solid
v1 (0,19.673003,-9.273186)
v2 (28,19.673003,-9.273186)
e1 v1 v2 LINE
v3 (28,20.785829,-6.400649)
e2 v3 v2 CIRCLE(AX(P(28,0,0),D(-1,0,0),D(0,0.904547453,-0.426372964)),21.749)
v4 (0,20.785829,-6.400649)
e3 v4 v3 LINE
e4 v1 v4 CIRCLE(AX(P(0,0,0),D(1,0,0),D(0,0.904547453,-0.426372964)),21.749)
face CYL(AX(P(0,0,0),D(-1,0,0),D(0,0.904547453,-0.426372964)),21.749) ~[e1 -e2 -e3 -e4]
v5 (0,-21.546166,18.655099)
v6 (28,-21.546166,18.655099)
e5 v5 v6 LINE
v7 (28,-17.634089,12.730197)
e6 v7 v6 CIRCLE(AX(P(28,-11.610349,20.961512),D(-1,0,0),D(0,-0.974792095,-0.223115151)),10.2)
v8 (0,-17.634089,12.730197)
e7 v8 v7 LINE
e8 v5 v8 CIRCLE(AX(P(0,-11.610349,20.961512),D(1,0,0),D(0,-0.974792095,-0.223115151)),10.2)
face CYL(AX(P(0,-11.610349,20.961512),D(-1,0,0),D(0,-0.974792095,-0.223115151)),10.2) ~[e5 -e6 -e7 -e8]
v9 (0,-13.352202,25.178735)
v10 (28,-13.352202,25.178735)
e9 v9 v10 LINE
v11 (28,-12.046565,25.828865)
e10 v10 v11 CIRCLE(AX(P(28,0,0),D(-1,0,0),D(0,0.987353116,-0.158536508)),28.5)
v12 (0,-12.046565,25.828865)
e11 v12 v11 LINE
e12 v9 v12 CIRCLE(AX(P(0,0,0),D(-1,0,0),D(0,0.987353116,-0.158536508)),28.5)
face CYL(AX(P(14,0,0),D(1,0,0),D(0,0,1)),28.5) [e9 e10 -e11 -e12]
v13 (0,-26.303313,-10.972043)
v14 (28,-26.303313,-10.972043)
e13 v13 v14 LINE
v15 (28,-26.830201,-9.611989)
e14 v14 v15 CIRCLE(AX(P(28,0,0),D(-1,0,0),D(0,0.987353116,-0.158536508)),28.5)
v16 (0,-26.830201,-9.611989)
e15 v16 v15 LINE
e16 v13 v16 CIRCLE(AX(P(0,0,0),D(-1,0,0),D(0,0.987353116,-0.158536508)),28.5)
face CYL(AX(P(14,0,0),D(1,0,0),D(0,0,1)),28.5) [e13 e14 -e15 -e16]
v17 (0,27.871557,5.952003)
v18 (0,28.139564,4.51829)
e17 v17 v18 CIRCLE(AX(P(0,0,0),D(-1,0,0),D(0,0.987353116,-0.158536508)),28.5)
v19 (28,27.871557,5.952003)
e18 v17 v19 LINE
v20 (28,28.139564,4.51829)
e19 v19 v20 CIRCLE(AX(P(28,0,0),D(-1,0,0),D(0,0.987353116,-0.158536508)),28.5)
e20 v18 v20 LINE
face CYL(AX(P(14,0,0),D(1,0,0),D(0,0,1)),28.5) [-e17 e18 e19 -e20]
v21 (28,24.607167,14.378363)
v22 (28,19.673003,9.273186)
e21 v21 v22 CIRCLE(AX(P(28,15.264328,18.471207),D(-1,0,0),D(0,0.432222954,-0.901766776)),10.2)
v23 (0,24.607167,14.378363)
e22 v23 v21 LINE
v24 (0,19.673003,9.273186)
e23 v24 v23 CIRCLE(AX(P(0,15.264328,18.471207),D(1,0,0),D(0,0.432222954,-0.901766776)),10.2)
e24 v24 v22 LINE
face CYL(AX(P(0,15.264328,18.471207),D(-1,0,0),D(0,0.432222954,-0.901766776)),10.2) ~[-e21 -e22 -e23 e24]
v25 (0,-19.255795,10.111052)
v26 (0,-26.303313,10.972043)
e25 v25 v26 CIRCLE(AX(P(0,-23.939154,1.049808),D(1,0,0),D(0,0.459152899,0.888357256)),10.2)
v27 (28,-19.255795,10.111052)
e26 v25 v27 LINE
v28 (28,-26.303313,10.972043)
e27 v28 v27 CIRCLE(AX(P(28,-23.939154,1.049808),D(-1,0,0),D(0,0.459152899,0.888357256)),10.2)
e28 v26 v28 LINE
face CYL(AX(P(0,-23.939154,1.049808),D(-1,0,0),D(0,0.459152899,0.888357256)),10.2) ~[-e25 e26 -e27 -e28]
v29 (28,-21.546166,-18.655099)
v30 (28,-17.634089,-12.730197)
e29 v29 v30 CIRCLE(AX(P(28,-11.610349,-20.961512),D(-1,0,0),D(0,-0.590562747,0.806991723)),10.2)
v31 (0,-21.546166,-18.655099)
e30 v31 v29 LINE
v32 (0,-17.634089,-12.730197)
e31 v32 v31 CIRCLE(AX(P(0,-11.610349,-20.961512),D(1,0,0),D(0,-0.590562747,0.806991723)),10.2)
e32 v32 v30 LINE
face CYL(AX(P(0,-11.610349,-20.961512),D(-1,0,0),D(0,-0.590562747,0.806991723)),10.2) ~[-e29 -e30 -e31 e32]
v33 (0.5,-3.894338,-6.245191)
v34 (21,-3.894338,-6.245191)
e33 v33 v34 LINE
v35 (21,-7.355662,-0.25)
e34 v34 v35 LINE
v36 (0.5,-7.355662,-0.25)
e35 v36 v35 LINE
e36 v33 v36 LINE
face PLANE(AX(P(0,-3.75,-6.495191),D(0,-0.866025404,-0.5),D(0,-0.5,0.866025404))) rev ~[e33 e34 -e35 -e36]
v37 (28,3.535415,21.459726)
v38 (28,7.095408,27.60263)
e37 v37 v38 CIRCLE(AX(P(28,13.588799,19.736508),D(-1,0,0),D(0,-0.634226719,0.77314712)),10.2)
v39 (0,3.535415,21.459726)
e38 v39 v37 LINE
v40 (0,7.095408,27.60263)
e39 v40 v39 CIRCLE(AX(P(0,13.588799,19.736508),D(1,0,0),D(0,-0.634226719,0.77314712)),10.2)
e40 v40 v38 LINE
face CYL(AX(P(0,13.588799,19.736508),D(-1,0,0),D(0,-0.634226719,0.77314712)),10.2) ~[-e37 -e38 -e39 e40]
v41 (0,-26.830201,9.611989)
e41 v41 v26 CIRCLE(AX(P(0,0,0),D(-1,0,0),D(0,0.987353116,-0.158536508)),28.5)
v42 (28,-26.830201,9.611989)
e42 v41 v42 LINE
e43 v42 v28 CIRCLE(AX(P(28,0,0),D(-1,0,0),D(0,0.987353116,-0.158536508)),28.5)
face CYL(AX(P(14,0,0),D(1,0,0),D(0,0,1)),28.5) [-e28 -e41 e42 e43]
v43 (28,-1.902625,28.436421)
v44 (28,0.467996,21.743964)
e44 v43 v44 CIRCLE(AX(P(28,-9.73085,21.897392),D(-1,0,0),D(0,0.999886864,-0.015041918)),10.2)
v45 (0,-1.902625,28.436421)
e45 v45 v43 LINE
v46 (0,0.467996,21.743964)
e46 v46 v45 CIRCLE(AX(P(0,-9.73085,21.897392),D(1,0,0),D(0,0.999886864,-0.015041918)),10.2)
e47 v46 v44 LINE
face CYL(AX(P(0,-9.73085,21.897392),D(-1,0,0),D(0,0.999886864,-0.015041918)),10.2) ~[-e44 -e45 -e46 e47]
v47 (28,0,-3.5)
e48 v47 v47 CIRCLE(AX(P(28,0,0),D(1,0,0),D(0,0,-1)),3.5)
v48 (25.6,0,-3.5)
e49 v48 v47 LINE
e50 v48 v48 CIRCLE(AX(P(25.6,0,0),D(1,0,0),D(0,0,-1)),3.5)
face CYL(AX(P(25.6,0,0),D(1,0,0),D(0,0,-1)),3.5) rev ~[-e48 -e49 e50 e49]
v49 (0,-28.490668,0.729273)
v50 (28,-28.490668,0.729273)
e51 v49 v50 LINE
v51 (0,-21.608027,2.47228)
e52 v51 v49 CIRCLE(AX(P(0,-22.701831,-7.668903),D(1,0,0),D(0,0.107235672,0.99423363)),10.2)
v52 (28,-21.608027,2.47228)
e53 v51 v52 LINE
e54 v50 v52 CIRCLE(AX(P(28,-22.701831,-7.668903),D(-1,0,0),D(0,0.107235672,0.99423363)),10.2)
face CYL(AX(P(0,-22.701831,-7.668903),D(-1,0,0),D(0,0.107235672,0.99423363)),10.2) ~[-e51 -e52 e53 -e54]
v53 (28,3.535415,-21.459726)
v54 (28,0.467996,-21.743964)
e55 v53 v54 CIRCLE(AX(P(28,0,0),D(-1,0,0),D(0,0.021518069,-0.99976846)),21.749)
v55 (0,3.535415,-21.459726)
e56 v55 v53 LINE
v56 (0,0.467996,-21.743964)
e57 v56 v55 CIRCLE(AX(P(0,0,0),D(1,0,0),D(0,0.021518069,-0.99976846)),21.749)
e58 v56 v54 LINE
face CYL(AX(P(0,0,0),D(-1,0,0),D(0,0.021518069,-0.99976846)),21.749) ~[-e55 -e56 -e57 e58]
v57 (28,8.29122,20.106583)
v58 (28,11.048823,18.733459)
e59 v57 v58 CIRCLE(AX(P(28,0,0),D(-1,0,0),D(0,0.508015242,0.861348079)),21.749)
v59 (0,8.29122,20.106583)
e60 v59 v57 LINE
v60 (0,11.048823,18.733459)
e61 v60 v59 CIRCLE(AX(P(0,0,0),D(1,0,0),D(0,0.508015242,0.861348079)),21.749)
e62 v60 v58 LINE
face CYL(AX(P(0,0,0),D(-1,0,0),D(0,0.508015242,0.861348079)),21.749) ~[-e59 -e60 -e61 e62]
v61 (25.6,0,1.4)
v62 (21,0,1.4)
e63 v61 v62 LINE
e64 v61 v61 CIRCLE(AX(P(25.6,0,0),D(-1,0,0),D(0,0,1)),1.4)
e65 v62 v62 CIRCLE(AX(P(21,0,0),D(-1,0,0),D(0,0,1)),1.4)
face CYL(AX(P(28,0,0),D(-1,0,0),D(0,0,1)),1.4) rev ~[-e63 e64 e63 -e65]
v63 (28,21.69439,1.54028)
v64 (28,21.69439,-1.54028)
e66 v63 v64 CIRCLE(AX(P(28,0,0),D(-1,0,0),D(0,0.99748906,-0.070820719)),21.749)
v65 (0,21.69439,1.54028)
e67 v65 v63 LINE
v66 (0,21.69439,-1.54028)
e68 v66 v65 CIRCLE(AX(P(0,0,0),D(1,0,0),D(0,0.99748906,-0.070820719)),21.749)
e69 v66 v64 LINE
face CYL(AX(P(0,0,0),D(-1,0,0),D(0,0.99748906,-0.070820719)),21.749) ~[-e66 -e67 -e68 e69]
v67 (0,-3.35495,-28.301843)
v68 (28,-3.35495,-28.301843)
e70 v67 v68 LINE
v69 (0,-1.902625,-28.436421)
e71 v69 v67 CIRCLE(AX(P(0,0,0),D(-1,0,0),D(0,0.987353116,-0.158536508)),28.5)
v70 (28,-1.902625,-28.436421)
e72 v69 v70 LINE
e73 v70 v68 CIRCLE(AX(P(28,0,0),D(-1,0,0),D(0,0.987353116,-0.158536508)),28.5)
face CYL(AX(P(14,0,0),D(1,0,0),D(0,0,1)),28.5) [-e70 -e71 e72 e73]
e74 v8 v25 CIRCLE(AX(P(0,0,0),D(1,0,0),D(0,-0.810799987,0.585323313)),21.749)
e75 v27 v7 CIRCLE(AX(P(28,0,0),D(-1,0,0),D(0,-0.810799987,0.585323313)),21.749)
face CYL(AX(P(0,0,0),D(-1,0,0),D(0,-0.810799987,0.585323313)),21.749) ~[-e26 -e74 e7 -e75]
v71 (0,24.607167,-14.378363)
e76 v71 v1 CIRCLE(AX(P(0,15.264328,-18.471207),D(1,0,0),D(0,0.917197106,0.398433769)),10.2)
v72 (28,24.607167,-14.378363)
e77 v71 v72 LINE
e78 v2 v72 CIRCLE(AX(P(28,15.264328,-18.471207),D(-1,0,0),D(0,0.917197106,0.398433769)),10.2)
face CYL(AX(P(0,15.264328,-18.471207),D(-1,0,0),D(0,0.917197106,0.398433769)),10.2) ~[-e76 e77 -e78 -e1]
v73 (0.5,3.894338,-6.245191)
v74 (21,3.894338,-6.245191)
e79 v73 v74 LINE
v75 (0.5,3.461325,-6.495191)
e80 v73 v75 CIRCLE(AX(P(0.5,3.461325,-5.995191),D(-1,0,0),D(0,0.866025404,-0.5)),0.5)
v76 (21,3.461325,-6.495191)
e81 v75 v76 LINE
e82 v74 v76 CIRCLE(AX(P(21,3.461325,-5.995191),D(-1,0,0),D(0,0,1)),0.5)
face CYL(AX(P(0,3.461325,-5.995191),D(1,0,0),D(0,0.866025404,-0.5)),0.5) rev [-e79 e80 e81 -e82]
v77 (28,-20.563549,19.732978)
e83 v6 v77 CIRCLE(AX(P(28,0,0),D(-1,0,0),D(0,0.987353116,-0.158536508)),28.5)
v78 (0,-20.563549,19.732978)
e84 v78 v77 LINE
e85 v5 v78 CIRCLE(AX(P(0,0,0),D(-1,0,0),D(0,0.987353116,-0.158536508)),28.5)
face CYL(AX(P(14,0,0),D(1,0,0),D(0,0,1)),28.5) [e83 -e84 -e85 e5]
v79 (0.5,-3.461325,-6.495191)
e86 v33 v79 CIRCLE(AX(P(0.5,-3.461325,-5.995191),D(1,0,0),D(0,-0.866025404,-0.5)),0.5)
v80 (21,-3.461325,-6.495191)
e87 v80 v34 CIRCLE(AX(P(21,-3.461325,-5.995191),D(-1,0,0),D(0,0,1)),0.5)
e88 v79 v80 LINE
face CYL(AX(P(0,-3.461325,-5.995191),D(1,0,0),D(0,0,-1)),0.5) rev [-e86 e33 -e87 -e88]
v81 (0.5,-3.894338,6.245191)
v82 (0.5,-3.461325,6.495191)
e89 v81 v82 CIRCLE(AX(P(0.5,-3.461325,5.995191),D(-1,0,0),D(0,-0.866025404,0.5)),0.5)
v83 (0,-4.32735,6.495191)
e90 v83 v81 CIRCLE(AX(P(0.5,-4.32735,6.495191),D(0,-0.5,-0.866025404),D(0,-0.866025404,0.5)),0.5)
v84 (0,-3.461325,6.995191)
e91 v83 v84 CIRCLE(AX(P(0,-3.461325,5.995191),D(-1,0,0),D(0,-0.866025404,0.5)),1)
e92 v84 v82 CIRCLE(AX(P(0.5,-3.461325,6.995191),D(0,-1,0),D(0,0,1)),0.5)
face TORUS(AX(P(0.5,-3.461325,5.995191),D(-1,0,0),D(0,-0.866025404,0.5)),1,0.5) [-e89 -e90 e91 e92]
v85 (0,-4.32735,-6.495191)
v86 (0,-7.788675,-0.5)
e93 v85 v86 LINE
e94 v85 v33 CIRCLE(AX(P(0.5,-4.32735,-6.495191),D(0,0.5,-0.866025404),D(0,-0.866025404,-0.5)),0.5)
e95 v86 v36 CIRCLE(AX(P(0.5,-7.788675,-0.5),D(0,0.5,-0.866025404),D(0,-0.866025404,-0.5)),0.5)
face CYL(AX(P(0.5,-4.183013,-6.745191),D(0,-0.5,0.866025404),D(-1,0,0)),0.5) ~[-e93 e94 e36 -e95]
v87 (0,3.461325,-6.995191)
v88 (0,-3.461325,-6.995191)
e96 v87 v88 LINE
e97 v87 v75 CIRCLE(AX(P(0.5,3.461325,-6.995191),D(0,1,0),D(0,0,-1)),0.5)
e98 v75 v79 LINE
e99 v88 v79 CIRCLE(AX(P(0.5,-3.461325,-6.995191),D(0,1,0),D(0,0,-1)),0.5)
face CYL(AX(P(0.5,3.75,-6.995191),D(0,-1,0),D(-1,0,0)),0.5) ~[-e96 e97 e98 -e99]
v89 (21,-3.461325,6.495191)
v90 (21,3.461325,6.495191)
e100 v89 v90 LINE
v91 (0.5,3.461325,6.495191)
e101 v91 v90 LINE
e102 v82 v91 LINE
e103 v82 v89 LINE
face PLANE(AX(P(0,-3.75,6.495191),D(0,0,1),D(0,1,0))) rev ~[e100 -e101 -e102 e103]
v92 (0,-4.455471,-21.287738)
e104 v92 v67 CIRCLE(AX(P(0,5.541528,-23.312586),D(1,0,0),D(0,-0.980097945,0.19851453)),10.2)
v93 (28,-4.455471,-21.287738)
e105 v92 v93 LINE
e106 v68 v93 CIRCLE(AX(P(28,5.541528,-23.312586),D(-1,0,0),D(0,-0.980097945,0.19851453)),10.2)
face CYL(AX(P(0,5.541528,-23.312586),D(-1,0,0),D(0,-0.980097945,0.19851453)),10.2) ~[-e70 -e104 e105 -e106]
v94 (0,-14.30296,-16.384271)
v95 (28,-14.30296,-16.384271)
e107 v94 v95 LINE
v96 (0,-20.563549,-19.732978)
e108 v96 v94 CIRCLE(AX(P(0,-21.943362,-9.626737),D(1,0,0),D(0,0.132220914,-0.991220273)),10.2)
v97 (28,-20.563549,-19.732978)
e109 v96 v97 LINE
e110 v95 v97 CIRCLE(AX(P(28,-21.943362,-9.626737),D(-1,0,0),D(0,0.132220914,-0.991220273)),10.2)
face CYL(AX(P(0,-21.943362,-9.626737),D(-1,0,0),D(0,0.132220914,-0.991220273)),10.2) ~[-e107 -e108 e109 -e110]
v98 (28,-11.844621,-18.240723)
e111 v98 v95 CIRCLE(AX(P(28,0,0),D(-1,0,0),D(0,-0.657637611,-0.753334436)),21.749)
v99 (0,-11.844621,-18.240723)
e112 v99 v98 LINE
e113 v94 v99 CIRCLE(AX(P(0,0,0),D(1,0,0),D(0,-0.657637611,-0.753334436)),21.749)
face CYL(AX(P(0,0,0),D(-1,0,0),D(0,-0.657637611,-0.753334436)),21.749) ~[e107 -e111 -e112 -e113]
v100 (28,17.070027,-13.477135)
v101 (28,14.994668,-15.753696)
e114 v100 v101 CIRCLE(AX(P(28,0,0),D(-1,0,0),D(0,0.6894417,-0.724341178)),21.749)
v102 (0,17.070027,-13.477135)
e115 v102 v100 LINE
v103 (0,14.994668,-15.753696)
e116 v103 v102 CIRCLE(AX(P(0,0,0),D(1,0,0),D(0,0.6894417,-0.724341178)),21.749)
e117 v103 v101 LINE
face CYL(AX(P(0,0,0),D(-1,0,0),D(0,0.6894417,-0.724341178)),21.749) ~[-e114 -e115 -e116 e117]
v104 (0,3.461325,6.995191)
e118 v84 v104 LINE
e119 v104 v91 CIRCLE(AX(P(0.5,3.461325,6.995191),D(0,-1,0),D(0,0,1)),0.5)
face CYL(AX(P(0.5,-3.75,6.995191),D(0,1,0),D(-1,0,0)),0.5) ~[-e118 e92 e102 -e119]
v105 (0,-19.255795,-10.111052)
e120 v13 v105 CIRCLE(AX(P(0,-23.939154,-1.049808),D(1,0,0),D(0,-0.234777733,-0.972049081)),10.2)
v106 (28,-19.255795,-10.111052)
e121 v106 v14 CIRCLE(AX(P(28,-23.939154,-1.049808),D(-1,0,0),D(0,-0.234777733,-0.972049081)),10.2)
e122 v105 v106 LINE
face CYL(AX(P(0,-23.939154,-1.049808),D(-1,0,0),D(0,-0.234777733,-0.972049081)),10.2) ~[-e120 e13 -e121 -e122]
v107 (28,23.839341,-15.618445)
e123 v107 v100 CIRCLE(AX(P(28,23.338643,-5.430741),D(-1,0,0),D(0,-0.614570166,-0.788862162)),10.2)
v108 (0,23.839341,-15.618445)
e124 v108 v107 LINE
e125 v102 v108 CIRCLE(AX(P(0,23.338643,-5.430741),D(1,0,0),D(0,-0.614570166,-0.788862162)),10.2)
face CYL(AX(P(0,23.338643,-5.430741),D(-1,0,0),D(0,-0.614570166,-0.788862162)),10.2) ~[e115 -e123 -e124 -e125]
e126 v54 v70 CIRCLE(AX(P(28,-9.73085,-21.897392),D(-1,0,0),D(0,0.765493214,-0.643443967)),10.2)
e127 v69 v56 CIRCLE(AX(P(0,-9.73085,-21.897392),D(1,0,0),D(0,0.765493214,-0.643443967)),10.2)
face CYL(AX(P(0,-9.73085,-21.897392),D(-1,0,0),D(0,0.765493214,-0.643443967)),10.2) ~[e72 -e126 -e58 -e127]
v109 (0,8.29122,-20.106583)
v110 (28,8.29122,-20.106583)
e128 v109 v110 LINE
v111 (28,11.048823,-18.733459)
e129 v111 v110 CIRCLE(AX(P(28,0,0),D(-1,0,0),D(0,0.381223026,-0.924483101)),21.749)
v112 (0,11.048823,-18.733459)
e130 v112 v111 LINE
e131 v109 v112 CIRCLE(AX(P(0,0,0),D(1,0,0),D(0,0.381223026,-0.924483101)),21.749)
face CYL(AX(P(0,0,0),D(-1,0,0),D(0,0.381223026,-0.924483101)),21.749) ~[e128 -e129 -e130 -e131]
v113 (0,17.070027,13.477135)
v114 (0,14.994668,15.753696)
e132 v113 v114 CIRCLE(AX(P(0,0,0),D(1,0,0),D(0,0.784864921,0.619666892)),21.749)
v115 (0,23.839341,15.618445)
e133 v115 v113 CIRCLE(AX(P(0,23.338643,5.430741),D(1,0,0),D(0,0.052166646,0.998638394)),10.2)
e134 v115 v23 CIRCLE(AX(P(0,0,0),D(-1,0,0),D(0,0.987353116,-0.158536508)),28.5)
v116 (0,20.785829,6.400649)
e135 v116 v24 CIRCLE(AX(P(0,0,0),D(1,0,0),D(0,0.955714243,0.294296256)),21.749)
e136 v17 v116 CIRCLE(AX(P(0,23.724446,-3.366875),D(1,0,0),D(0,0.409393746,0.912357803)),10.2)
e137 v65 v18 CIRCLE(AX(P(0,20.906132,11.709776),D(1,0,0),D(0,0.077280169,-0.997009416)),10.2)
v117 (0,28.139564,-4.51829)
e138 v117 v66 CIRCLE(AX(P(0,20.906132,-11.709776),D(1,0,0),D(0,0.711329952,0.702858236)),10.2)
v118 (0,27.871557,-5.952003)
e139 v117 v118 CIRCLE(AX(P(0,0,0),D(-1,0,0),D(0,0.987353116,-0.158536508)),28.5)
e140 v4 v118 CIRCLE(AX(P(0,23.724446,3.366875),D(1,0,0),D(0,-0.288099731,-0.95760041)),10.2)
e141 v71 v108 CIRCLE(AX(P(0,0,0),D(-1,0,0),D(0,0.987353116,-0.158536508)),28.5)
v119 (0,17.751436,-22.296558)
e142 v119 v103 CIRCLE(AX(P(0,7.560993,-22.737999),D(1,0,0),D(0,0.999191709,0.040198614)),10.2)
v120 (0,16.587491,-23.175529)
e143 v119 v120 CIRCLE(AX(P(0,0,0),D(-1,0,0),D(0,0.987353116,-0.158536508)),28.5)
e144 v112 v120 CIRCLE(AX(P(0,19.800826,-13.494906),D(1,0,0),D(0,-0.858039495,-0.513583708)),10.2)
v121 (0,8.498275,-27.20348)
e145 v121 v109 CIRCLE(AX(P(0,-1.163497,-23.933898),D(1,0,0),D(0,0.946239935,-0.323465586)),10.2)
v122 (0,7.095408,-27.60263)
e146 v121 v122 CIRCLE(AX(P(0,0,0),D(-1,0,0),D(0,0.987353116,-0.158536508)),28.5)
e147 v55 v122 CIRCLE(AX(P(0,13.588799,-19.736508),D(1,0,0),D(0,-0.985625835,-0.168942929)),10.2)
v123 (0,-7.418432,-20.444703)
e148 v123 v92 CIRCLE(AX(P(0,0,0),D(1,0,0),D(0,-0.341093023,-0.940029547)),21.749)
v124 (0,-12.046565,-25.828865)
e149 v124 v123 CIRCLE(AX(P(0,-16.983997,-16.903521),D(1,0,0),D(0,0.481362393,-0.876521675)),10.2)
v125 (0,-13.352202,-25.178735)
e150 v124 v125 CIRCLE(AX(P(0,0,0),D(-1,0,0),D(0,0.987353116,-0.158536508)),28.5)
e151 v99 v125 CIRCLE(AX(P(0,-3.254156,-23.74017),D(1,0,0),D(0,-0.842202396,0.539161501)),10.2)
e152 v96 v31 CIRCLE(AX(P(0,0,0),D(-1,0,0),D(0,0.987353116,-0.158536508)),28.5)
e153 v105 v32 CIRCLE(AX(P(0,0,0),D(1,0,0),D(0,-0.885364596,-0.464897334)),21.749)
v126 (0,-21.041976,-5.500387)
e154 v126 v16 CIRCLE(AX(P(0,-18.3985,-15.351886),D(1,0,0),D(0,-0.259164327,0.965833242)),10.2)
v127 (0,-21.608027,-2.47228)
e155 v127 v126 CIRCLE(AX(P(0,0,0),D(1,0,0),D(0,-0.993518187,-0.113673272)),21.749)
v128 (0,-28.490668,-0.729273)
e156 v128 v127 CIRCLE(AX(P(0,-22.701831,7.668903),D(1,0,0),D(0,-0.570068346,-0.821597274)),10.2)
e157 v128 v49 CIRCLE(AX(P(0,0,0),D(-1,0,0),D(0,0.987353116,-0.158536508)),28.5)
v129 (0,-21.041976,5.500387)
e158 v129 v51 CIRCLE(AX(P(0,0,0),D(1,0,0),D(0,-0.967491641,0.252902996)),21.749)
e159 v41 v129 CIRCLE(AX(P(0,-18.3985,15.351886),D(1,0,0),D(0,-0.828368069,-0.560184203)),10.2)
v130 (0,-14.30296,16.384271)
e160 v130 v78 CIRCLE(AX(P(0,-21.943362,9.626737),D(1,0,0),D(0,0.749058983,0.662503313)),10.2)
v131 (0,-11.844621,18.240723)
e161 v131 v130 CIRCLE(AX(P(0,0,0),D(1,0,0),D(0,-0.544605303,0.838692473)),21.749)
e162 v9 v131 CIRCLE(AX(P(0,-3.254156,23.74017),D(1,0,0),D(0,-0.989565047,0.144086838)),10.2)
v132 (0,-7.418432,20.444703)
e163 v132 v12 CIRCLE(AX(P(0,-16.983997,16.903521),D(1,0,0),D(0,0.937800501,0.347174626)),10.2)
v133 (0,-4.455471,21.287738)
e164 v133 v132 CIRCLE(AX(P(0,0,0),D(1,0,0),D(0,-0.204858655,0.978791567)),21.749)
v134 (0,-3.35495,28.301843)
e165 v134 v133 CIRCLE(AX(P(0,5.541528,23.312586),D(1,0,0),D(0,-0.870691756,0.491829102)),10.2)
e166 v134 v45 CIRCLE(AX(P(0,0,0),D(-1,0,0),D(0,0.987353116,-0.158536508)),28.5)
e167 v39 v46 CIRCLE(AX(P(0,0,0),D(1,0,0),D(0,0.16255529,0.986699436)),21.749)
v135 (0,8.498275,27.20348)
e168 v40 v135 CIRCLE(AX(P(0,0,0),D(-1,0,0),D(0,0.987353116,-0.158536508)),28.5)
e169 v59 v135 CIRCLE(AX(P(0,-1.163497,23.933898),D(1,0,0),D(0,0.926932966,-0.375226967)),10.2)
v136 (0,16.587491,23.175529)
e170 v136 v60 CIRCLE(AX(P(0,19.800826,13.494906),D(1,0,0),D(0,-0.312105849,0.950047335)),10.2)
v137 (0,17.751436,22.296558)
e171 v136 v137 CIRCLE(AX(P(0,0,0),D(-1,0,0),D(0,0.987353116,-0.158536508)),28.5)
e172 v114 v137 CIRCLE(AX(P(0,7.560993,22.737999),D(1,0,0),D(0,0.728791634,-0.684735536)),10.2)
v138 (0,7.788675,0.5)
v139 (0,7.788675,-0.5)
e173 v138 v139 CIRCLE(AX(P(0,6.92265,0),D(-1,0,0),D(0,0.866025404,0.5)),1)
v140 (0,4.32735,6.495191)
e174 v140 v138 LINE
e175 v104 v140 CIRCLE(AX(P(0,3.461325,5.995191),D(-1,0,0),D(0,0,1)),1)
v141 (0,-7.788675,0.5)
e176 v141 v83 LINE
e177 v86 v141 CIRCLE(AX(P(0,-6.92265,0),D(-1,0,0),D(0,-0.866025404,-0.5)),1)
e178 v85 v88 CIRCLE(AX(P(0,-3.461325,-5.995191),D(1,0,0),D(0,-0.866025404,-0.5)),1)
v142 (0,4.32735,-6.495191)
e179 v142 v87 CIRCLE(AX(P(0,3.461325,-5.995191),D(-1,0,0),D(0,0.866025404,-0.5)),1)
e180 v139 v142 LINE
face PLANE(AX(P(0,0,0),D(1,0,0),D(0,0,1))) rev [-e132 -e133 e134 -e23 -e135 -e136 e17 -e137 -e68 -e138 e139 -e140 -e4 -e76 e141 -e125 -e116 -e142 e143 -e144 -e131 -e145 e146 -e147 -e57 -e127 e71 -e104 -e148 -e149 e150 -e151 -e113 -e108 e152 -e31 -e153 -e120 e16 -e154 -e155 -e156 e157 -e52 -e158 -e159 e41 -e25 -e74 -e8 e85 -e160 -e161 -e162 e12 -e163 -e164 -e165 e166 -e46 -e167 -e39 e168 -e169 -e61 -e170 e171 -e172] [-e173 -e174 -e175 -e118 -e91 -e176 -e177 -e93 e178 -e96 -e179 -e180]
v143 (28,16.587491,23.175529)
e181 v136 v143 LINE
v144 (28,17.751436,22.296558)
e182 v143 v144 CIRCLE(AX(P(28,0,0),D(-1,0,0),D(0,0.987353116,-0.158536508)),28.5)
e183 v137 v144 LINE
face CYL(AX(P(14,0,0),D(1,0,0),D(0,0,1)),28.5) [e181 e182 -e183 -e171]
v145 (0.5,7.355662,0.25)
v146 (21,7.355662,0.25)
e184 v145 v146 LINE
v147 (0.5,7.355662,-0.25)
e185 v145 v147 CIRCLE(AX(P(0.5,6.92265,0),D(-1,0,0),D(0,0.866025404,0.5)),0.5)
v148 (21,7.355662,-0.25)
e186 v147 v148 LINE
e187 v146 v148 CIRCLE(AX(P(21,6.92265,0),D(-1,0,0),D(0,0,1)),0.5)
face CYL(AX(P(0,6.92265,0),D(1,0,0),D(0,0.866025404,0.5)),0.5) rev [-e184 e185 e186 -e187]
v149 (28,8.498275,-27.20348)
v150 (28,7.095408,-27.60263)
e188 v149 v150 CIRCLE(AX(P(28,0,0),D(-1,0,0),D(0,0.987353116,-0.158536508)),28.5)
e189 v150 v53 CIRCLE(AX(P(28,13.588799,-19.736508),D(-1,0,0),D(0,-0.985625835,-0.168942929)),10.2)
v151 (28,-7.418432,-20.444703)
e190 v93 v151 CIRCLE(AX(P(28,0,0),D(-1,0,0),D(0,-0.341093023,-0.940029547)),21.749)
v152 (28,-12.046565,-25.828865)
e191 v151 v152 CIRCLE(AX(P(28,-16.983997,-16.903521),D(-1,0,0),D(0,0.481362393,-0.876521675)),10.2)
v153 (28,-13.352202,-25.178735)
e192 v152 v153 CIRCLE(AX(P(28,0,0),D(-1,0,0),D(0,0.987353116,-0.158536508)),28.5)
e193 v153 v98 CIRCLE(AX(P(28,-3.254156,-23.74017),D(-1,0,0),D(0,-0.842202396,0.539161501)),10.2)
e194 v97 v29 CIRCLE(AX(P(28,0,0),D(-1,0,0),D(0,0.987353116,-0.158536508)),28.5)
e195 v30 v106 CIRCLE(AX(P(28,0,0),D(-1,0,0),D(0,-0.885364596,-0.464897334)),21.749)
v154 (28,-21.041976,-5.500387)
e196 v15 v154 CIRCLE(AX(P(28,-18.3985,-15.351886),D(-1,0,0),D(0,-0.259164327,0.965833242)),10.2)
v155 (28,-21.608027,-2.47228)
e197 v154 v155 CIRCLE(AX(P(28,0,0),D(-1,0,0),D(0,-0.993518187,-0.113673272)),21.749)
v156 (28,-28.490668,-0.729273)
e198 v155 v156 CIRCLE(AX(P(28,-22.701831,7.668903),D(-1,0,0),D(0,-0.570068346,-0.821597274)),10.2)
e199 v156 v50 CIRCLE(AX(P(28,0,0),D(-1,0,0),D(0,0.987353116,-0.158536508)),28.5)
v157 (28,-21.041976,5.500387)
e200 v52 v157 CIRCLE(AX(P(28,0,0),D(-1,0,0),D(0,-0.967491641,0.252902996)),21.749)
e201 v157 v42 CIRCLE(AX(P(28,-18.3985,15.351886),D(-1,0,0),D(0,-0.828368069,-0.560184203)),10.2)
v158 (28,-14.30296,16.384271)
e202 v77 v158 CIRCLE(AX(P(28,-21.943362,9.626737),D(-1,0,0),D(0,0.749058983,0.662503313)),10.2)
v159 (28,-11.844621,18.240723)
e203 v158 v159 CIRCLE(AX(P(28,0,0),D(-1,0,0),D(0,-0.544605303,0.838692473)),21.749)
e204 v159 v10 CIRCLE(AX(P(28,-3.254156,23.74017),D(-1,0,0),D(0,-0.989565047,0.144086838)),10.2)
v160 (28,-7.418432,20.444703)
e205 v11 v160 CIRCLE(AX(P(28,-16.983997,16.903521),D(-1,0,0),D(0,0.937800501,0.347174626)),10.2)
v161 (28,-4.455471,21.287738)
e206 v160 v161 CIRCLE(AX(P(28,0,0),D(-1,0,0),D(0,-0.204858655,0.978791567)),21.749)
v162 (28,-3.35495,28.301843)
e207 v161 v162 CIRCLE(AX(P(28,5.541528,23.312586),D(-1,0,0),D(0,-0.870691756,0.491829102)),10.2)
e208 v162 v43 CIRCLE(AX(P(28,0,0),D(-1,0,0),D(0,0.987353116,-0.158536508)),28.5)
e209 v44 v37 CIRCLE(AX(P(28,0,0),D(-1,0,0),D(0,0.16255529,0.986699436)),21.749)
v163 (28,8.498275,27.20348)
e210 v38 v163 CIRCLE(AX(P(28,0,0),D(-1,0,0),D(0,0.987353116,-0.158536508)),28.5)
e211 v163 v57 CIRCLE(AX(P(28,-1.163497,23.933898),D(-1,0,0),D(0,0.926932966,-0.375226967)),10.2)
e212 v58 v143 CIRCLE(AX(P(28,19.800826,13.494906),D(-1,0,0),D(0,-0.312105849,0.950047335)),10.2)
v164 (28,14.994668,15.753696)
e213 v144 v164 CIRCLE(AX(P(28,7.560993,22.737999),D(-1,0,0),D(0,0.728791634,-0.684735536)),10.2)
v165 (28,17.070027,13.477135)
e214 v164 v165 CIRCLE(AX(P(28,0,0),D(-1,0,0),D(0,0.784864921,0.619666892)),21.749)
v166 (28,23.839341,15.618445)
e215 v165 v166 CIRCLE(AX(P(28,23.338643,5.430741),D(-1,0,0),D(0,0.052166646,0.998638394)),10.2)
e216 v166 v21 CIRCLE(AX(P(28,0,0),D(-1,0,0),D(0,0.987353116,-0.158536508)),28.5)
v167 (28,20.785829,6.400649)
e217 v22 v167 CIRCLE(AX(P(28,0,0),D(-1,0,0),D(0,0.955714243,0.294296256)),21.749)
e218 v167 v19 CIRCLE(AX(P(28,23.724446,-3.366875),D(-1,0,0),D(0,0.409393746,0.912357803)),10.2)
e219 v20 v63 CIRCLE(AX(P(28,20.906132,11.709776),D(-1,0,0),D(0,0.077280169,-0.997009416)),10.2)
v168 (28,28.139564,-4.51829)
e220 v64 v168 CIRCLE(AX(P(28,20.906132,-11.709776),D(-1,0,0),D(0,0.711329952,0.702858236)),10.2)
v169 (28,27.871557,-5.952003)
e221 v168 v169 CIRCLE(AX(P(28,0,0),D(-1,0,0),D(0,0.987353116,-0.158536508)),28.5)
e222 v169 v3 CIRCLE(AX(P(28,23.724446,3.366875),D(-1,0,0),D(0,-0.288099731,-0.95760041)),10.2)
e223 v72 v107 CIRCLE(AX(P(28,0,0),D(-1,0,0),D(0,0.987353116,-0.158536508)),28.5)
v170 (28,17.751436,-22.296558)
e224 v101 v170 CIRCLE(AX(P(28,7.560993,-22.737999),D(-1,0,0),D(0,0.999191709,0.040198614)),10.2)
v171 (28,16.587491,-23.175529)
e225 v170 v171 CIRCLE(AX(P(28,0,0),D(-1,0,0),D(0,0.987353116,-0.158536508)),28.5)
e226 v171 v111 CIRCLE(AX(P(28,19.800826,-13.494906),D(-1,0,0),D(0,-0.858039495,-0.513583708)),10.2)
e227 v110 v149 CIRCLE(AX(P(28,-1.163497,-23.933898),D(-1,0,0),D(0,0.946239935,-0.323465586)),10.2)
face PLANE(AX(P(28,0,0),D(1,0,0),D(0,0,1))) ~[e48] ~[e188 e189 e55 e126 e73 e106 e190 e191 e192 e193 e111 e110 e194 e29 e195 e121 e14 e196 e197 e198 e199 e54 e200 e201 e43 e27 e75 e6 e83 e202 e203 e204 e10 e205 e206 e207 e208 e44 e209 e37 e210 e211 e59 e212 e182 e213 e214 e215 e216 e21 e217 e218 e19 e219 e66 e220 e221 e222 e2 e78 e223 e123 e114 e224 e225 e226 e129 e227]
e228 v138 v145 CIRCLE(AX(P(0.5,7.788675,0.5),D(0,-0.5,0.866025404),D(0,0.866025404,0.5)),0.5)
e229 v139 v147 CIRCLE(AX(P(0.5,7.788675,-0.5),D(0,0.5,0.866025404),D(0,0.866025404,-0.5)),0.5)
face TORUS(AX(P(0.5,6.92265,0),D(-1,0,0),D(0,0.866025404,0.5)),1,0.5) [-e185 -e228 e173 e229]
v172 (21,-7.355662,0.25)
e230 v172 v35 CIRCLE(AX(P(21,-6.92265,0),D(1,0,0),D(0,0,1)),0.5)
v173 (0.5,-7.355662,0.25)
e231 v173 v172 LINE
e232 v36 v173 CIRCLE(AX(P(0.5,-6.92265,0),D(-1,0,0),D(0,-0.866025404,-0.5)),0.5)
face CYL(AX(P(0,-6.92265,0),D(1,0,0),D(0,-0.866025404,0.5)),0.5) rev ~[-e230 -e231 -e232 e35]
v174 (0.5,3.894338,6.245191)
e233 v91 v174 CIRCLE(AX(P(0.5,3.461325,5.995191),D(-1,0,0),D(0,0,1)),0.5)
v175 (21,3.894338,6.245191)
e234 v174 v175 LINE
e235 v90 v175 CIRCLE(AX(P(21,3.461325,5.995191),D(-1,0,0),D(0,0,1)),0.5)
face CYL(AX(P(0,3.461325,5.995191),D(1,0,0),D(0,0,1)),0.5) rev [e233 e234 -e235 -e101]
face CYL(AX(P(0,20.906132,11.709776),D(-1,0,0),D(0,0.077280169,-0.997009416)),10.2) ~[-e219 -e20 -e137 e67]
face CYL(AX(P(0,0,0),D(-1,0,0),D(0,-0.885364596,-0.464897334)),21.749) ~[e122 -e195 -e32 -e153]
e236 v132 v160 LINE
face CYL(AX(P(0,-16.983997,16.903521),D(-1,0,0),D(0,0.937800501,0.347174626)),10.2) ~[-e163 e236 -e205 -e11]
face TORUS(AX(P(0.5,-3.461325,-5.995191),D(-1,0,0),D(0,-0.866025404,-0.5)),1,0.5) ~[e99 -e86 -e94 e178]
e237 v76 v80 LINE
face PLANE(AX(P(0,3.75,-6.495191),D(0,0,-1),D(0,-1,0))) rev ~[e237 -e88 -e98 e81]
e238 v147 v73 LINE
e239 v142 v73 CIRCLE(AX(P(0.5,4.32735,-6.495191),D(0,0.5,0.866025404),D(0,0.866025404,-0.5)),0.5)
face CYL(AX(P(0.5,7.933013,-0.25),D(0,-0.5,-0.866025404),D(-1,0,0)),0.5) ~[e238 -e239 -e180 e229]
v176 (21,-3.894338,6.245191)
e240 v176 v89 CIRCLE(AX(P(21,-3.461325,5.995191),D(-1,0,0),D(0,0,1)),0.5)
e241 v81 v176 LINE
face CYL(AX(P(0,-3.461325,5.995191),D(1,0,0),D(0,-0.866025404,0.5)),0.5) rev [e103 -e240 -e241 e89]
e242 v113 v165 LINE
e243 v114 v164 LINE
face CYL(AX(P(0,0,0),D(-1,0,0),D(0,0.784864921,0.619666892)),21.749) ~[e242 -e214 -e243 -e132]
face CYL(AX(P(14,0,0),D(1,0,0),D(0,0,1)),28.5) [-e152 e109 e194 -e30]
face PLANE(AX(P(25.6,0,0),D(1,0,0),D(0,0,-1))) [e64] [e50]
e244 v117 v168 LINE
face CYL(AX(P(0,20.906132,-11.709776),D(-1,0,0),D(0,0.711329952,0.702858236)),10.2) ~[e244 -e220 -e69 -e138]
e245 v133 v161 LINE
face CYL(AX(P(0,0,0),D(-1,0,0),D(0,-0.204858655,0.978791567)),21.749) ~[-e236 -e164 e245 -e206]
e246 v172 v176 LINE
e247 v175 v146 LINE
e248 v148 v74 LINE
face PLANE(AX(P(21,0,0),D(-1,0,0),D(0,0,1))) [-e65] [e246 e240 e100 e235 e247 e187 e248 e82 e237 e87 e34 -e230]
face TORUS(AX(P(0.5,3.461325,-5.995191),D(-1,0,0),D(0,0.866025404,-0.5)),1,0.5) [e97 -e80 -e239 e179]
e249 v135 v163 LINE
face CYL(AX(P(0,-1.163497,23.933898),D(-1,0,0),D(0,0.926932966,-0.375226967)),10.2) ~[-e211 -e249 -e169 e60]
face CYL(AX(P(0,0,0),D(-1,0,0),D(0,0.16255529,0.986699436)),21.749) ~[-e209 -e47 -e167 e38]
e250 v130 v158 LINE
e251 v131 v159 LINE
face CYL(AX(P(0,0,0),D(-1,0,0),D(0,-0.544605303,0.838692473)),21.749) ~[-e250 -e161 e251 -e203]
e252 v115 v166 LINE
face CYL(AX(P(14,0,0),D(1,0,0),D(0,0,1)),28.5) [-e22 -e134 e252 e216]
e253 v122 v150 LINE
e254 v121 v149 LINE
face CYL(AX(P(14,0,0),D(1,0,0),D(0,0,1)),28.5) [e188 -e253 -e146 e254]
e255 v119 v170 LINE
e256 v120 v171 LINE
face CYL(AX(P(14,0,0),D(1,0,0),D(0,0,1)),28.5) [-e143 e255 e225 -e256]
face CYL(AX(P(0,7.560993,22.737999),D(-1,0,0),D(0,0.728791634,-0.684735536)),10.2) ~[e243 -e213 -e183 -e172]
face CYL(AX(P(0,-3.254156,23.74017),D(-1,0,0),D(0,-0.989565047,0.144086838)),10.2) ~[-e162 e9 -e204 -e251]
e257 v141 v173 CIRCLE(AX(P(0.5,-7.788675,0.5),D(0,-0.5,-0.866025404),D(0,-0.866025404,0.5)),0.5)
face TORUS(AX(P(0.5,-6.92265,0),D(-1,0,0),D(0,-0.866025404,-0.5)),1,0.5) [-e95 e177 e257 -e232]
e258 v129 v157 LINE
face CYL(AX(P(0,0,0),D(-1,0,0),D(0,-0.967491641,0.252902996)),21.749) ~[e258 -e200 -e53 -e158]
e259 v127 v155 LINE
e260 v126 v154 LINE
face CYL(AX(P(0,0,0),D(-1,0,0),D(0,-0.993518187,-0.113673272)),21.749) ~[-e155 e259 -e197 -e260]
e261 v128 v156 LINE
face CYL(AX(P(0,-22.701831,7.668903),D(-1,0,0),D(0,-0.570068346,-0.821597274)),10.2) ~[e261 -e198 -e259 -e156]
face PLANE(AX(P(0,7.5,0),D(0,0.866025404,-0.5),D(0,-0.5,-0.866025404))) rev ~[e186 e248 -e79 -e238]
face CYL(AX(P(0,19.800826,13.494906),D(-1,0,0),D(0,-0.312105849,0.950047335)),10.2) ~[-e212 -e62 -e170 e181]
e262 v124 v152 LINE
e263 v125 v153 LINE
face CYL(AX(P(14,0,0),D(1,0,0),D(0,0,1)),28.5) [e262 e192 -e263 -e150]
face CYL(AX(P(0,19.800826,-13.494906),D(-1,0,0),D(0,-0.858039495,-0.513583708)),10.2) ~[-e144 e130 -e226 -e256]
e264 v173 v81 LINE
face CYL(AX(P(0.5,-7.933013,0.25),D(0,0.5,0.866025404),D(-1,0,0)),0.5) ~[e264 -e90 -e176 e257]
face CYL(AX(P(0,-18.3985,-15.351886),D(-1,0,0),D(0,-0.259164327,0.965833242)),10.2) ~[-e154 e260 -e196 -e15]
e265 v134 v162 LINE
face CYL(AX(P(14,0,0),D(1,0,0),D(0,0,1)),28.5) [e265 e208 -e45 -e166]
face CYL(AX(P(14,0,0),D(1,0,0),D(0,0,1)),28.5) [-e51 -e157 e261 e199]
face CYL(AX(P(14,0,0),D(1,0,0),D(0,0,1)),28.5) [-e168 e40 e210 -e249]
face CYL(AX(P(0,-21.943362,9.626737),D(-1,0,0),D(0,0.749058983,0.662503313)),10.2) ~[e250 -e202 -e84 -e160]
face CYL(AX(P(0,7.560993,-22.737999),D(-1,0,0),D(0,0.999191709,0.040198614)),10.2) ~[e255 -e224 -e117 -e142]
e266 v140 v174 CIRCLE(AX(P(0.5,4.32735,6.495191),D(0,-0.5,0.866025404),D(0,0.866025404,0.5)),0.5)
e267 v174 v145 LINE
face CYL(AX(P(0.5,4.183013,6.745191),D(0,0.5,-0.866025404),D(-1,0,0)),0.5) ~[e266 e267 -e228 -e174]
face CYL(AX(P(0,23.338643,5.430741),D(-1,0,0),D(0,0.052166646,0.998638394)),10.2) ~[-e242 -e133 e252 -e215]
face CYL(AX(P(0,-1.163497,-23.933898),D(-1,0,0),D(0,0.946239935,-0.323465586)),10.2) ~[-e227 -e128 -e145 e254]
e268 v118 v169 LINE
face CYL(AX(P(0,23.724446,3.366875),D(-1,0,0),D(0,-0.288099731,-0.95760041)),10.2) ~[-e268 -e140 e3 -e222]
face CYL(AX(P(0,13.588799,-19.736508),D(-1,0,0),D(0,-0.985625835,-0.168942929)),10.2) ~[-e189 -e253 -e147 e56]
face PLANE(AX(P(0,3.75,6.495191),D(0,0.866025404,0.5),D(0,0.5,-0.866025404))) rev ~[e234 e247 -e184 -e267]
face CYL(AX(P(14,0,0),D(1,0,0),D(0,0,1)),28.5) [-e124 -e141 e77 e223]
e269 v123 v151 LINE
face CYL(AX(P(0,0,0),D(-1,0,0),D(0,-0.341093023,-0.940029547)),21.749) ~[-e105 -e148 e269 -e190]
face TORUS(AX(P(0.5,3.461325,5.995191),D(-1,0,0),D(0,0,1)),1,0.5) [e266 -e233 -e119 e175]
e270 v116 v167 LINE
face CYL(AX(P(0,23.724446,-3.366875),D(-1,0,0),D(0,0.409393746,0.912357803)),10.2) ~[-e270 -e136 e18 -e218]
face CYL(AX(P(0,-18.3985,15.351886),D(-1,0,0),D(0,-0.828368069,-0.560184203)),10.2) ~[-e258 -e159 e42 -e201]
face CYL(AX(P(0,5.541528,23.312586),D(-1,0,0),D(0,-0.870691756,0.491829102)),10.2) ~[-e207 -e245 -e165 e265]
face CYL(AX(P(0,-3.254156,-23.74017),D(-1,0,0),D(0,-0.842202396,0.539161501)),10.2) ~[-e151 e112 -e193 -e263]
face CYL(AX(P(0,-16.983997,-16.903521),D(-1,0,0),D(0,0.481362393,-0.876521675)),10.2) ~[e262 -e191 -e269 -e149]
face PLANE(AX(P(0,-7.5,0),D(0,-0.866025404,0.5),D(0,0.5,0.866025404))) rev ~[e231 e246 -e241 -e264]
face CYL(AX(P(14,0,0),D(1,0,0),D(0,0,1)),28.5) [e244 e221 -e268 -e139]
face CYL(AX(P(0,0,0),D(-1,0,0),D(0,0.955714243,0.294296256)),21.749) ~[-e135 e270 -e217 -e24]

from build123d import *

# Parameters (mm, degrees)
BASPROSKE_W                              = 28
BASPROSKE_H                              = 28.5
TOOTHCUT_DEPTH                           = 50.076470941
TEETHCUTS_COUNT                          = 17
TEETHCUTS_ANGLE                          = 338.823529412
BORSKE_R                                 = 0.4
BORE_DEPTH                               = 50.0000508
CUT_EXTRUDE1_DEPTH                       = 21
CBORE_FOR_M3_PAN_HEAD_SCREW1_D           = 2.8
CBORE_FOR_M3_PAN_HEAD_SCREW1_CBORE_D     = 7
CBORE_FOR_M3_PAN_HEAD_SCREW1_CBORE_DEPTH = 2.4
FILLET1_R                                = 0.5


with BuildPart() as part:
    # BasProSke → Base-Revolve (revolve)
    with BuildSketch(Plane(origin=(0, 0, 0), x_dir=(1, 0, 0), z_dir=(0, 1, 0)), mode=Mode.PRIVATE) as base_revolve_sk:
        with Locations((14, 14.25)):
            Rectangle(BASPROSKE_W, BASPROSKE_H)
    revolve(base_revolve_sk.sketch.rotate(Axis((-10, 0, 0), (1, 0, 0)), 180), axis=Axis((-10, 0, 0), (1, 0, 0)))

    # TooCutSke → ToothCut (cut, through all)
    with BuildSketch(Plane(origin=(0, 0, 0), x_dir=(0, 0, -1), z_dir=(1, 0, 0))):
        with BuildLine():
            ThreePointArc((1.540279816, 21.694389576), (0, 21.749), (-1.540279816, 21.694389576))
            ThreePointArc((-1.540279816, 21.694389576), (-2.457007956, 25.198716871), (-4.540621854, 28.161697363))
            ThreePointArc((-4.540621854, 28.161697363), (0, 28.5254), (4.540621854, 28.161697363))
            ThreePointArc((4.540621854, 28.161697363), (2.457007956, 25.198716871), (1.540279816, 21.694389576))
        make_face()
    toothcut = extrude(amount=TOOTHCUT_DEPTH, mode=Mode.SUBTRACT)

    # TeethCuts: ToothCut ×17 about axis
    teethcuts_axis = Axis((-10, 0, 0), (1, 0, 0))
    for i in range(1, TEETHCUTS_COUNT):
        add(toothcut.rotate(teethcuts_axis, i * TEETHCUTS_ANGLE / (TEETHCUTS_COUNT - 1)), mode=Mode.SUBTRACT)

    # BorSke → Bore (cut, symmetric)
    with BuildSketch(Plane(origin=(0, 0, 0), x_dir=(0, 0, -1), z_dir=(1, 0, 0))):
        with Locations(Location((0, 0, 0), (0, 0, 180))):
            Circle(BORSKE_R)
    extrude(amount=BORE_DEPTH, both=True, mode=Mode.SUBTRACT)

    # Sketch1 → Cut-Extrude1 (cut)
    with BuildSketch(Plane.ZY):
        Polygon((0, -7.5), (6.495190528, -3.75), (6.495190528, 3.75), (0, 7.5), (-6.495190528, 3.75), (-6.495190528, -3.75), align=None)
    extrude(amount=-CUT_EXTRUDE1_DEPTH, mode=Mode.SUBTRACT)

    # CBORE for M3 Pan Head Screw1 (through all)
    with Locations(Plane(origin=(28, 0, 0), x_dir=(0, 0, -1), z_dir=(1, 0, 0))):
        with Locations((0, 0)):
            CounterBoreHole(CBORE_FOR_M3_PAN_HEAD_SCREW1_D / 2, CBORE_FOR_M3_PAN_HEAD_SCREW1_CBORE_D / 2, CBORE_FOR_M3_PAN_HEAD_SCREW1_CBORE_DEPTH)

    # Fillet1
    fillet1_edges = [part.edges().sort_by_distance(p)[0] for p in [
        (10.5, -7.5, 0),
        (10.5, -3.75, -6.495190528),
        (10.5, 3.75, -6.495190528),
        (10.5, 7.5, 0),
        (10.5, 3.75, 6.495190528),
        (10.5, -3.75, 6.495190528),
        (0, -5.625, -3.247595264),
        (0, -5.625, 3.247595264),
        (0, 0, 6.495190528),
        (0, 5.625, 3.247595264),
        (0, 5.625, -3.247595264),
        (0, 0, -6.495190528),
    ]]
    fillet(fillet1_edges, radius=FILLET1_R)


solid = part.part
